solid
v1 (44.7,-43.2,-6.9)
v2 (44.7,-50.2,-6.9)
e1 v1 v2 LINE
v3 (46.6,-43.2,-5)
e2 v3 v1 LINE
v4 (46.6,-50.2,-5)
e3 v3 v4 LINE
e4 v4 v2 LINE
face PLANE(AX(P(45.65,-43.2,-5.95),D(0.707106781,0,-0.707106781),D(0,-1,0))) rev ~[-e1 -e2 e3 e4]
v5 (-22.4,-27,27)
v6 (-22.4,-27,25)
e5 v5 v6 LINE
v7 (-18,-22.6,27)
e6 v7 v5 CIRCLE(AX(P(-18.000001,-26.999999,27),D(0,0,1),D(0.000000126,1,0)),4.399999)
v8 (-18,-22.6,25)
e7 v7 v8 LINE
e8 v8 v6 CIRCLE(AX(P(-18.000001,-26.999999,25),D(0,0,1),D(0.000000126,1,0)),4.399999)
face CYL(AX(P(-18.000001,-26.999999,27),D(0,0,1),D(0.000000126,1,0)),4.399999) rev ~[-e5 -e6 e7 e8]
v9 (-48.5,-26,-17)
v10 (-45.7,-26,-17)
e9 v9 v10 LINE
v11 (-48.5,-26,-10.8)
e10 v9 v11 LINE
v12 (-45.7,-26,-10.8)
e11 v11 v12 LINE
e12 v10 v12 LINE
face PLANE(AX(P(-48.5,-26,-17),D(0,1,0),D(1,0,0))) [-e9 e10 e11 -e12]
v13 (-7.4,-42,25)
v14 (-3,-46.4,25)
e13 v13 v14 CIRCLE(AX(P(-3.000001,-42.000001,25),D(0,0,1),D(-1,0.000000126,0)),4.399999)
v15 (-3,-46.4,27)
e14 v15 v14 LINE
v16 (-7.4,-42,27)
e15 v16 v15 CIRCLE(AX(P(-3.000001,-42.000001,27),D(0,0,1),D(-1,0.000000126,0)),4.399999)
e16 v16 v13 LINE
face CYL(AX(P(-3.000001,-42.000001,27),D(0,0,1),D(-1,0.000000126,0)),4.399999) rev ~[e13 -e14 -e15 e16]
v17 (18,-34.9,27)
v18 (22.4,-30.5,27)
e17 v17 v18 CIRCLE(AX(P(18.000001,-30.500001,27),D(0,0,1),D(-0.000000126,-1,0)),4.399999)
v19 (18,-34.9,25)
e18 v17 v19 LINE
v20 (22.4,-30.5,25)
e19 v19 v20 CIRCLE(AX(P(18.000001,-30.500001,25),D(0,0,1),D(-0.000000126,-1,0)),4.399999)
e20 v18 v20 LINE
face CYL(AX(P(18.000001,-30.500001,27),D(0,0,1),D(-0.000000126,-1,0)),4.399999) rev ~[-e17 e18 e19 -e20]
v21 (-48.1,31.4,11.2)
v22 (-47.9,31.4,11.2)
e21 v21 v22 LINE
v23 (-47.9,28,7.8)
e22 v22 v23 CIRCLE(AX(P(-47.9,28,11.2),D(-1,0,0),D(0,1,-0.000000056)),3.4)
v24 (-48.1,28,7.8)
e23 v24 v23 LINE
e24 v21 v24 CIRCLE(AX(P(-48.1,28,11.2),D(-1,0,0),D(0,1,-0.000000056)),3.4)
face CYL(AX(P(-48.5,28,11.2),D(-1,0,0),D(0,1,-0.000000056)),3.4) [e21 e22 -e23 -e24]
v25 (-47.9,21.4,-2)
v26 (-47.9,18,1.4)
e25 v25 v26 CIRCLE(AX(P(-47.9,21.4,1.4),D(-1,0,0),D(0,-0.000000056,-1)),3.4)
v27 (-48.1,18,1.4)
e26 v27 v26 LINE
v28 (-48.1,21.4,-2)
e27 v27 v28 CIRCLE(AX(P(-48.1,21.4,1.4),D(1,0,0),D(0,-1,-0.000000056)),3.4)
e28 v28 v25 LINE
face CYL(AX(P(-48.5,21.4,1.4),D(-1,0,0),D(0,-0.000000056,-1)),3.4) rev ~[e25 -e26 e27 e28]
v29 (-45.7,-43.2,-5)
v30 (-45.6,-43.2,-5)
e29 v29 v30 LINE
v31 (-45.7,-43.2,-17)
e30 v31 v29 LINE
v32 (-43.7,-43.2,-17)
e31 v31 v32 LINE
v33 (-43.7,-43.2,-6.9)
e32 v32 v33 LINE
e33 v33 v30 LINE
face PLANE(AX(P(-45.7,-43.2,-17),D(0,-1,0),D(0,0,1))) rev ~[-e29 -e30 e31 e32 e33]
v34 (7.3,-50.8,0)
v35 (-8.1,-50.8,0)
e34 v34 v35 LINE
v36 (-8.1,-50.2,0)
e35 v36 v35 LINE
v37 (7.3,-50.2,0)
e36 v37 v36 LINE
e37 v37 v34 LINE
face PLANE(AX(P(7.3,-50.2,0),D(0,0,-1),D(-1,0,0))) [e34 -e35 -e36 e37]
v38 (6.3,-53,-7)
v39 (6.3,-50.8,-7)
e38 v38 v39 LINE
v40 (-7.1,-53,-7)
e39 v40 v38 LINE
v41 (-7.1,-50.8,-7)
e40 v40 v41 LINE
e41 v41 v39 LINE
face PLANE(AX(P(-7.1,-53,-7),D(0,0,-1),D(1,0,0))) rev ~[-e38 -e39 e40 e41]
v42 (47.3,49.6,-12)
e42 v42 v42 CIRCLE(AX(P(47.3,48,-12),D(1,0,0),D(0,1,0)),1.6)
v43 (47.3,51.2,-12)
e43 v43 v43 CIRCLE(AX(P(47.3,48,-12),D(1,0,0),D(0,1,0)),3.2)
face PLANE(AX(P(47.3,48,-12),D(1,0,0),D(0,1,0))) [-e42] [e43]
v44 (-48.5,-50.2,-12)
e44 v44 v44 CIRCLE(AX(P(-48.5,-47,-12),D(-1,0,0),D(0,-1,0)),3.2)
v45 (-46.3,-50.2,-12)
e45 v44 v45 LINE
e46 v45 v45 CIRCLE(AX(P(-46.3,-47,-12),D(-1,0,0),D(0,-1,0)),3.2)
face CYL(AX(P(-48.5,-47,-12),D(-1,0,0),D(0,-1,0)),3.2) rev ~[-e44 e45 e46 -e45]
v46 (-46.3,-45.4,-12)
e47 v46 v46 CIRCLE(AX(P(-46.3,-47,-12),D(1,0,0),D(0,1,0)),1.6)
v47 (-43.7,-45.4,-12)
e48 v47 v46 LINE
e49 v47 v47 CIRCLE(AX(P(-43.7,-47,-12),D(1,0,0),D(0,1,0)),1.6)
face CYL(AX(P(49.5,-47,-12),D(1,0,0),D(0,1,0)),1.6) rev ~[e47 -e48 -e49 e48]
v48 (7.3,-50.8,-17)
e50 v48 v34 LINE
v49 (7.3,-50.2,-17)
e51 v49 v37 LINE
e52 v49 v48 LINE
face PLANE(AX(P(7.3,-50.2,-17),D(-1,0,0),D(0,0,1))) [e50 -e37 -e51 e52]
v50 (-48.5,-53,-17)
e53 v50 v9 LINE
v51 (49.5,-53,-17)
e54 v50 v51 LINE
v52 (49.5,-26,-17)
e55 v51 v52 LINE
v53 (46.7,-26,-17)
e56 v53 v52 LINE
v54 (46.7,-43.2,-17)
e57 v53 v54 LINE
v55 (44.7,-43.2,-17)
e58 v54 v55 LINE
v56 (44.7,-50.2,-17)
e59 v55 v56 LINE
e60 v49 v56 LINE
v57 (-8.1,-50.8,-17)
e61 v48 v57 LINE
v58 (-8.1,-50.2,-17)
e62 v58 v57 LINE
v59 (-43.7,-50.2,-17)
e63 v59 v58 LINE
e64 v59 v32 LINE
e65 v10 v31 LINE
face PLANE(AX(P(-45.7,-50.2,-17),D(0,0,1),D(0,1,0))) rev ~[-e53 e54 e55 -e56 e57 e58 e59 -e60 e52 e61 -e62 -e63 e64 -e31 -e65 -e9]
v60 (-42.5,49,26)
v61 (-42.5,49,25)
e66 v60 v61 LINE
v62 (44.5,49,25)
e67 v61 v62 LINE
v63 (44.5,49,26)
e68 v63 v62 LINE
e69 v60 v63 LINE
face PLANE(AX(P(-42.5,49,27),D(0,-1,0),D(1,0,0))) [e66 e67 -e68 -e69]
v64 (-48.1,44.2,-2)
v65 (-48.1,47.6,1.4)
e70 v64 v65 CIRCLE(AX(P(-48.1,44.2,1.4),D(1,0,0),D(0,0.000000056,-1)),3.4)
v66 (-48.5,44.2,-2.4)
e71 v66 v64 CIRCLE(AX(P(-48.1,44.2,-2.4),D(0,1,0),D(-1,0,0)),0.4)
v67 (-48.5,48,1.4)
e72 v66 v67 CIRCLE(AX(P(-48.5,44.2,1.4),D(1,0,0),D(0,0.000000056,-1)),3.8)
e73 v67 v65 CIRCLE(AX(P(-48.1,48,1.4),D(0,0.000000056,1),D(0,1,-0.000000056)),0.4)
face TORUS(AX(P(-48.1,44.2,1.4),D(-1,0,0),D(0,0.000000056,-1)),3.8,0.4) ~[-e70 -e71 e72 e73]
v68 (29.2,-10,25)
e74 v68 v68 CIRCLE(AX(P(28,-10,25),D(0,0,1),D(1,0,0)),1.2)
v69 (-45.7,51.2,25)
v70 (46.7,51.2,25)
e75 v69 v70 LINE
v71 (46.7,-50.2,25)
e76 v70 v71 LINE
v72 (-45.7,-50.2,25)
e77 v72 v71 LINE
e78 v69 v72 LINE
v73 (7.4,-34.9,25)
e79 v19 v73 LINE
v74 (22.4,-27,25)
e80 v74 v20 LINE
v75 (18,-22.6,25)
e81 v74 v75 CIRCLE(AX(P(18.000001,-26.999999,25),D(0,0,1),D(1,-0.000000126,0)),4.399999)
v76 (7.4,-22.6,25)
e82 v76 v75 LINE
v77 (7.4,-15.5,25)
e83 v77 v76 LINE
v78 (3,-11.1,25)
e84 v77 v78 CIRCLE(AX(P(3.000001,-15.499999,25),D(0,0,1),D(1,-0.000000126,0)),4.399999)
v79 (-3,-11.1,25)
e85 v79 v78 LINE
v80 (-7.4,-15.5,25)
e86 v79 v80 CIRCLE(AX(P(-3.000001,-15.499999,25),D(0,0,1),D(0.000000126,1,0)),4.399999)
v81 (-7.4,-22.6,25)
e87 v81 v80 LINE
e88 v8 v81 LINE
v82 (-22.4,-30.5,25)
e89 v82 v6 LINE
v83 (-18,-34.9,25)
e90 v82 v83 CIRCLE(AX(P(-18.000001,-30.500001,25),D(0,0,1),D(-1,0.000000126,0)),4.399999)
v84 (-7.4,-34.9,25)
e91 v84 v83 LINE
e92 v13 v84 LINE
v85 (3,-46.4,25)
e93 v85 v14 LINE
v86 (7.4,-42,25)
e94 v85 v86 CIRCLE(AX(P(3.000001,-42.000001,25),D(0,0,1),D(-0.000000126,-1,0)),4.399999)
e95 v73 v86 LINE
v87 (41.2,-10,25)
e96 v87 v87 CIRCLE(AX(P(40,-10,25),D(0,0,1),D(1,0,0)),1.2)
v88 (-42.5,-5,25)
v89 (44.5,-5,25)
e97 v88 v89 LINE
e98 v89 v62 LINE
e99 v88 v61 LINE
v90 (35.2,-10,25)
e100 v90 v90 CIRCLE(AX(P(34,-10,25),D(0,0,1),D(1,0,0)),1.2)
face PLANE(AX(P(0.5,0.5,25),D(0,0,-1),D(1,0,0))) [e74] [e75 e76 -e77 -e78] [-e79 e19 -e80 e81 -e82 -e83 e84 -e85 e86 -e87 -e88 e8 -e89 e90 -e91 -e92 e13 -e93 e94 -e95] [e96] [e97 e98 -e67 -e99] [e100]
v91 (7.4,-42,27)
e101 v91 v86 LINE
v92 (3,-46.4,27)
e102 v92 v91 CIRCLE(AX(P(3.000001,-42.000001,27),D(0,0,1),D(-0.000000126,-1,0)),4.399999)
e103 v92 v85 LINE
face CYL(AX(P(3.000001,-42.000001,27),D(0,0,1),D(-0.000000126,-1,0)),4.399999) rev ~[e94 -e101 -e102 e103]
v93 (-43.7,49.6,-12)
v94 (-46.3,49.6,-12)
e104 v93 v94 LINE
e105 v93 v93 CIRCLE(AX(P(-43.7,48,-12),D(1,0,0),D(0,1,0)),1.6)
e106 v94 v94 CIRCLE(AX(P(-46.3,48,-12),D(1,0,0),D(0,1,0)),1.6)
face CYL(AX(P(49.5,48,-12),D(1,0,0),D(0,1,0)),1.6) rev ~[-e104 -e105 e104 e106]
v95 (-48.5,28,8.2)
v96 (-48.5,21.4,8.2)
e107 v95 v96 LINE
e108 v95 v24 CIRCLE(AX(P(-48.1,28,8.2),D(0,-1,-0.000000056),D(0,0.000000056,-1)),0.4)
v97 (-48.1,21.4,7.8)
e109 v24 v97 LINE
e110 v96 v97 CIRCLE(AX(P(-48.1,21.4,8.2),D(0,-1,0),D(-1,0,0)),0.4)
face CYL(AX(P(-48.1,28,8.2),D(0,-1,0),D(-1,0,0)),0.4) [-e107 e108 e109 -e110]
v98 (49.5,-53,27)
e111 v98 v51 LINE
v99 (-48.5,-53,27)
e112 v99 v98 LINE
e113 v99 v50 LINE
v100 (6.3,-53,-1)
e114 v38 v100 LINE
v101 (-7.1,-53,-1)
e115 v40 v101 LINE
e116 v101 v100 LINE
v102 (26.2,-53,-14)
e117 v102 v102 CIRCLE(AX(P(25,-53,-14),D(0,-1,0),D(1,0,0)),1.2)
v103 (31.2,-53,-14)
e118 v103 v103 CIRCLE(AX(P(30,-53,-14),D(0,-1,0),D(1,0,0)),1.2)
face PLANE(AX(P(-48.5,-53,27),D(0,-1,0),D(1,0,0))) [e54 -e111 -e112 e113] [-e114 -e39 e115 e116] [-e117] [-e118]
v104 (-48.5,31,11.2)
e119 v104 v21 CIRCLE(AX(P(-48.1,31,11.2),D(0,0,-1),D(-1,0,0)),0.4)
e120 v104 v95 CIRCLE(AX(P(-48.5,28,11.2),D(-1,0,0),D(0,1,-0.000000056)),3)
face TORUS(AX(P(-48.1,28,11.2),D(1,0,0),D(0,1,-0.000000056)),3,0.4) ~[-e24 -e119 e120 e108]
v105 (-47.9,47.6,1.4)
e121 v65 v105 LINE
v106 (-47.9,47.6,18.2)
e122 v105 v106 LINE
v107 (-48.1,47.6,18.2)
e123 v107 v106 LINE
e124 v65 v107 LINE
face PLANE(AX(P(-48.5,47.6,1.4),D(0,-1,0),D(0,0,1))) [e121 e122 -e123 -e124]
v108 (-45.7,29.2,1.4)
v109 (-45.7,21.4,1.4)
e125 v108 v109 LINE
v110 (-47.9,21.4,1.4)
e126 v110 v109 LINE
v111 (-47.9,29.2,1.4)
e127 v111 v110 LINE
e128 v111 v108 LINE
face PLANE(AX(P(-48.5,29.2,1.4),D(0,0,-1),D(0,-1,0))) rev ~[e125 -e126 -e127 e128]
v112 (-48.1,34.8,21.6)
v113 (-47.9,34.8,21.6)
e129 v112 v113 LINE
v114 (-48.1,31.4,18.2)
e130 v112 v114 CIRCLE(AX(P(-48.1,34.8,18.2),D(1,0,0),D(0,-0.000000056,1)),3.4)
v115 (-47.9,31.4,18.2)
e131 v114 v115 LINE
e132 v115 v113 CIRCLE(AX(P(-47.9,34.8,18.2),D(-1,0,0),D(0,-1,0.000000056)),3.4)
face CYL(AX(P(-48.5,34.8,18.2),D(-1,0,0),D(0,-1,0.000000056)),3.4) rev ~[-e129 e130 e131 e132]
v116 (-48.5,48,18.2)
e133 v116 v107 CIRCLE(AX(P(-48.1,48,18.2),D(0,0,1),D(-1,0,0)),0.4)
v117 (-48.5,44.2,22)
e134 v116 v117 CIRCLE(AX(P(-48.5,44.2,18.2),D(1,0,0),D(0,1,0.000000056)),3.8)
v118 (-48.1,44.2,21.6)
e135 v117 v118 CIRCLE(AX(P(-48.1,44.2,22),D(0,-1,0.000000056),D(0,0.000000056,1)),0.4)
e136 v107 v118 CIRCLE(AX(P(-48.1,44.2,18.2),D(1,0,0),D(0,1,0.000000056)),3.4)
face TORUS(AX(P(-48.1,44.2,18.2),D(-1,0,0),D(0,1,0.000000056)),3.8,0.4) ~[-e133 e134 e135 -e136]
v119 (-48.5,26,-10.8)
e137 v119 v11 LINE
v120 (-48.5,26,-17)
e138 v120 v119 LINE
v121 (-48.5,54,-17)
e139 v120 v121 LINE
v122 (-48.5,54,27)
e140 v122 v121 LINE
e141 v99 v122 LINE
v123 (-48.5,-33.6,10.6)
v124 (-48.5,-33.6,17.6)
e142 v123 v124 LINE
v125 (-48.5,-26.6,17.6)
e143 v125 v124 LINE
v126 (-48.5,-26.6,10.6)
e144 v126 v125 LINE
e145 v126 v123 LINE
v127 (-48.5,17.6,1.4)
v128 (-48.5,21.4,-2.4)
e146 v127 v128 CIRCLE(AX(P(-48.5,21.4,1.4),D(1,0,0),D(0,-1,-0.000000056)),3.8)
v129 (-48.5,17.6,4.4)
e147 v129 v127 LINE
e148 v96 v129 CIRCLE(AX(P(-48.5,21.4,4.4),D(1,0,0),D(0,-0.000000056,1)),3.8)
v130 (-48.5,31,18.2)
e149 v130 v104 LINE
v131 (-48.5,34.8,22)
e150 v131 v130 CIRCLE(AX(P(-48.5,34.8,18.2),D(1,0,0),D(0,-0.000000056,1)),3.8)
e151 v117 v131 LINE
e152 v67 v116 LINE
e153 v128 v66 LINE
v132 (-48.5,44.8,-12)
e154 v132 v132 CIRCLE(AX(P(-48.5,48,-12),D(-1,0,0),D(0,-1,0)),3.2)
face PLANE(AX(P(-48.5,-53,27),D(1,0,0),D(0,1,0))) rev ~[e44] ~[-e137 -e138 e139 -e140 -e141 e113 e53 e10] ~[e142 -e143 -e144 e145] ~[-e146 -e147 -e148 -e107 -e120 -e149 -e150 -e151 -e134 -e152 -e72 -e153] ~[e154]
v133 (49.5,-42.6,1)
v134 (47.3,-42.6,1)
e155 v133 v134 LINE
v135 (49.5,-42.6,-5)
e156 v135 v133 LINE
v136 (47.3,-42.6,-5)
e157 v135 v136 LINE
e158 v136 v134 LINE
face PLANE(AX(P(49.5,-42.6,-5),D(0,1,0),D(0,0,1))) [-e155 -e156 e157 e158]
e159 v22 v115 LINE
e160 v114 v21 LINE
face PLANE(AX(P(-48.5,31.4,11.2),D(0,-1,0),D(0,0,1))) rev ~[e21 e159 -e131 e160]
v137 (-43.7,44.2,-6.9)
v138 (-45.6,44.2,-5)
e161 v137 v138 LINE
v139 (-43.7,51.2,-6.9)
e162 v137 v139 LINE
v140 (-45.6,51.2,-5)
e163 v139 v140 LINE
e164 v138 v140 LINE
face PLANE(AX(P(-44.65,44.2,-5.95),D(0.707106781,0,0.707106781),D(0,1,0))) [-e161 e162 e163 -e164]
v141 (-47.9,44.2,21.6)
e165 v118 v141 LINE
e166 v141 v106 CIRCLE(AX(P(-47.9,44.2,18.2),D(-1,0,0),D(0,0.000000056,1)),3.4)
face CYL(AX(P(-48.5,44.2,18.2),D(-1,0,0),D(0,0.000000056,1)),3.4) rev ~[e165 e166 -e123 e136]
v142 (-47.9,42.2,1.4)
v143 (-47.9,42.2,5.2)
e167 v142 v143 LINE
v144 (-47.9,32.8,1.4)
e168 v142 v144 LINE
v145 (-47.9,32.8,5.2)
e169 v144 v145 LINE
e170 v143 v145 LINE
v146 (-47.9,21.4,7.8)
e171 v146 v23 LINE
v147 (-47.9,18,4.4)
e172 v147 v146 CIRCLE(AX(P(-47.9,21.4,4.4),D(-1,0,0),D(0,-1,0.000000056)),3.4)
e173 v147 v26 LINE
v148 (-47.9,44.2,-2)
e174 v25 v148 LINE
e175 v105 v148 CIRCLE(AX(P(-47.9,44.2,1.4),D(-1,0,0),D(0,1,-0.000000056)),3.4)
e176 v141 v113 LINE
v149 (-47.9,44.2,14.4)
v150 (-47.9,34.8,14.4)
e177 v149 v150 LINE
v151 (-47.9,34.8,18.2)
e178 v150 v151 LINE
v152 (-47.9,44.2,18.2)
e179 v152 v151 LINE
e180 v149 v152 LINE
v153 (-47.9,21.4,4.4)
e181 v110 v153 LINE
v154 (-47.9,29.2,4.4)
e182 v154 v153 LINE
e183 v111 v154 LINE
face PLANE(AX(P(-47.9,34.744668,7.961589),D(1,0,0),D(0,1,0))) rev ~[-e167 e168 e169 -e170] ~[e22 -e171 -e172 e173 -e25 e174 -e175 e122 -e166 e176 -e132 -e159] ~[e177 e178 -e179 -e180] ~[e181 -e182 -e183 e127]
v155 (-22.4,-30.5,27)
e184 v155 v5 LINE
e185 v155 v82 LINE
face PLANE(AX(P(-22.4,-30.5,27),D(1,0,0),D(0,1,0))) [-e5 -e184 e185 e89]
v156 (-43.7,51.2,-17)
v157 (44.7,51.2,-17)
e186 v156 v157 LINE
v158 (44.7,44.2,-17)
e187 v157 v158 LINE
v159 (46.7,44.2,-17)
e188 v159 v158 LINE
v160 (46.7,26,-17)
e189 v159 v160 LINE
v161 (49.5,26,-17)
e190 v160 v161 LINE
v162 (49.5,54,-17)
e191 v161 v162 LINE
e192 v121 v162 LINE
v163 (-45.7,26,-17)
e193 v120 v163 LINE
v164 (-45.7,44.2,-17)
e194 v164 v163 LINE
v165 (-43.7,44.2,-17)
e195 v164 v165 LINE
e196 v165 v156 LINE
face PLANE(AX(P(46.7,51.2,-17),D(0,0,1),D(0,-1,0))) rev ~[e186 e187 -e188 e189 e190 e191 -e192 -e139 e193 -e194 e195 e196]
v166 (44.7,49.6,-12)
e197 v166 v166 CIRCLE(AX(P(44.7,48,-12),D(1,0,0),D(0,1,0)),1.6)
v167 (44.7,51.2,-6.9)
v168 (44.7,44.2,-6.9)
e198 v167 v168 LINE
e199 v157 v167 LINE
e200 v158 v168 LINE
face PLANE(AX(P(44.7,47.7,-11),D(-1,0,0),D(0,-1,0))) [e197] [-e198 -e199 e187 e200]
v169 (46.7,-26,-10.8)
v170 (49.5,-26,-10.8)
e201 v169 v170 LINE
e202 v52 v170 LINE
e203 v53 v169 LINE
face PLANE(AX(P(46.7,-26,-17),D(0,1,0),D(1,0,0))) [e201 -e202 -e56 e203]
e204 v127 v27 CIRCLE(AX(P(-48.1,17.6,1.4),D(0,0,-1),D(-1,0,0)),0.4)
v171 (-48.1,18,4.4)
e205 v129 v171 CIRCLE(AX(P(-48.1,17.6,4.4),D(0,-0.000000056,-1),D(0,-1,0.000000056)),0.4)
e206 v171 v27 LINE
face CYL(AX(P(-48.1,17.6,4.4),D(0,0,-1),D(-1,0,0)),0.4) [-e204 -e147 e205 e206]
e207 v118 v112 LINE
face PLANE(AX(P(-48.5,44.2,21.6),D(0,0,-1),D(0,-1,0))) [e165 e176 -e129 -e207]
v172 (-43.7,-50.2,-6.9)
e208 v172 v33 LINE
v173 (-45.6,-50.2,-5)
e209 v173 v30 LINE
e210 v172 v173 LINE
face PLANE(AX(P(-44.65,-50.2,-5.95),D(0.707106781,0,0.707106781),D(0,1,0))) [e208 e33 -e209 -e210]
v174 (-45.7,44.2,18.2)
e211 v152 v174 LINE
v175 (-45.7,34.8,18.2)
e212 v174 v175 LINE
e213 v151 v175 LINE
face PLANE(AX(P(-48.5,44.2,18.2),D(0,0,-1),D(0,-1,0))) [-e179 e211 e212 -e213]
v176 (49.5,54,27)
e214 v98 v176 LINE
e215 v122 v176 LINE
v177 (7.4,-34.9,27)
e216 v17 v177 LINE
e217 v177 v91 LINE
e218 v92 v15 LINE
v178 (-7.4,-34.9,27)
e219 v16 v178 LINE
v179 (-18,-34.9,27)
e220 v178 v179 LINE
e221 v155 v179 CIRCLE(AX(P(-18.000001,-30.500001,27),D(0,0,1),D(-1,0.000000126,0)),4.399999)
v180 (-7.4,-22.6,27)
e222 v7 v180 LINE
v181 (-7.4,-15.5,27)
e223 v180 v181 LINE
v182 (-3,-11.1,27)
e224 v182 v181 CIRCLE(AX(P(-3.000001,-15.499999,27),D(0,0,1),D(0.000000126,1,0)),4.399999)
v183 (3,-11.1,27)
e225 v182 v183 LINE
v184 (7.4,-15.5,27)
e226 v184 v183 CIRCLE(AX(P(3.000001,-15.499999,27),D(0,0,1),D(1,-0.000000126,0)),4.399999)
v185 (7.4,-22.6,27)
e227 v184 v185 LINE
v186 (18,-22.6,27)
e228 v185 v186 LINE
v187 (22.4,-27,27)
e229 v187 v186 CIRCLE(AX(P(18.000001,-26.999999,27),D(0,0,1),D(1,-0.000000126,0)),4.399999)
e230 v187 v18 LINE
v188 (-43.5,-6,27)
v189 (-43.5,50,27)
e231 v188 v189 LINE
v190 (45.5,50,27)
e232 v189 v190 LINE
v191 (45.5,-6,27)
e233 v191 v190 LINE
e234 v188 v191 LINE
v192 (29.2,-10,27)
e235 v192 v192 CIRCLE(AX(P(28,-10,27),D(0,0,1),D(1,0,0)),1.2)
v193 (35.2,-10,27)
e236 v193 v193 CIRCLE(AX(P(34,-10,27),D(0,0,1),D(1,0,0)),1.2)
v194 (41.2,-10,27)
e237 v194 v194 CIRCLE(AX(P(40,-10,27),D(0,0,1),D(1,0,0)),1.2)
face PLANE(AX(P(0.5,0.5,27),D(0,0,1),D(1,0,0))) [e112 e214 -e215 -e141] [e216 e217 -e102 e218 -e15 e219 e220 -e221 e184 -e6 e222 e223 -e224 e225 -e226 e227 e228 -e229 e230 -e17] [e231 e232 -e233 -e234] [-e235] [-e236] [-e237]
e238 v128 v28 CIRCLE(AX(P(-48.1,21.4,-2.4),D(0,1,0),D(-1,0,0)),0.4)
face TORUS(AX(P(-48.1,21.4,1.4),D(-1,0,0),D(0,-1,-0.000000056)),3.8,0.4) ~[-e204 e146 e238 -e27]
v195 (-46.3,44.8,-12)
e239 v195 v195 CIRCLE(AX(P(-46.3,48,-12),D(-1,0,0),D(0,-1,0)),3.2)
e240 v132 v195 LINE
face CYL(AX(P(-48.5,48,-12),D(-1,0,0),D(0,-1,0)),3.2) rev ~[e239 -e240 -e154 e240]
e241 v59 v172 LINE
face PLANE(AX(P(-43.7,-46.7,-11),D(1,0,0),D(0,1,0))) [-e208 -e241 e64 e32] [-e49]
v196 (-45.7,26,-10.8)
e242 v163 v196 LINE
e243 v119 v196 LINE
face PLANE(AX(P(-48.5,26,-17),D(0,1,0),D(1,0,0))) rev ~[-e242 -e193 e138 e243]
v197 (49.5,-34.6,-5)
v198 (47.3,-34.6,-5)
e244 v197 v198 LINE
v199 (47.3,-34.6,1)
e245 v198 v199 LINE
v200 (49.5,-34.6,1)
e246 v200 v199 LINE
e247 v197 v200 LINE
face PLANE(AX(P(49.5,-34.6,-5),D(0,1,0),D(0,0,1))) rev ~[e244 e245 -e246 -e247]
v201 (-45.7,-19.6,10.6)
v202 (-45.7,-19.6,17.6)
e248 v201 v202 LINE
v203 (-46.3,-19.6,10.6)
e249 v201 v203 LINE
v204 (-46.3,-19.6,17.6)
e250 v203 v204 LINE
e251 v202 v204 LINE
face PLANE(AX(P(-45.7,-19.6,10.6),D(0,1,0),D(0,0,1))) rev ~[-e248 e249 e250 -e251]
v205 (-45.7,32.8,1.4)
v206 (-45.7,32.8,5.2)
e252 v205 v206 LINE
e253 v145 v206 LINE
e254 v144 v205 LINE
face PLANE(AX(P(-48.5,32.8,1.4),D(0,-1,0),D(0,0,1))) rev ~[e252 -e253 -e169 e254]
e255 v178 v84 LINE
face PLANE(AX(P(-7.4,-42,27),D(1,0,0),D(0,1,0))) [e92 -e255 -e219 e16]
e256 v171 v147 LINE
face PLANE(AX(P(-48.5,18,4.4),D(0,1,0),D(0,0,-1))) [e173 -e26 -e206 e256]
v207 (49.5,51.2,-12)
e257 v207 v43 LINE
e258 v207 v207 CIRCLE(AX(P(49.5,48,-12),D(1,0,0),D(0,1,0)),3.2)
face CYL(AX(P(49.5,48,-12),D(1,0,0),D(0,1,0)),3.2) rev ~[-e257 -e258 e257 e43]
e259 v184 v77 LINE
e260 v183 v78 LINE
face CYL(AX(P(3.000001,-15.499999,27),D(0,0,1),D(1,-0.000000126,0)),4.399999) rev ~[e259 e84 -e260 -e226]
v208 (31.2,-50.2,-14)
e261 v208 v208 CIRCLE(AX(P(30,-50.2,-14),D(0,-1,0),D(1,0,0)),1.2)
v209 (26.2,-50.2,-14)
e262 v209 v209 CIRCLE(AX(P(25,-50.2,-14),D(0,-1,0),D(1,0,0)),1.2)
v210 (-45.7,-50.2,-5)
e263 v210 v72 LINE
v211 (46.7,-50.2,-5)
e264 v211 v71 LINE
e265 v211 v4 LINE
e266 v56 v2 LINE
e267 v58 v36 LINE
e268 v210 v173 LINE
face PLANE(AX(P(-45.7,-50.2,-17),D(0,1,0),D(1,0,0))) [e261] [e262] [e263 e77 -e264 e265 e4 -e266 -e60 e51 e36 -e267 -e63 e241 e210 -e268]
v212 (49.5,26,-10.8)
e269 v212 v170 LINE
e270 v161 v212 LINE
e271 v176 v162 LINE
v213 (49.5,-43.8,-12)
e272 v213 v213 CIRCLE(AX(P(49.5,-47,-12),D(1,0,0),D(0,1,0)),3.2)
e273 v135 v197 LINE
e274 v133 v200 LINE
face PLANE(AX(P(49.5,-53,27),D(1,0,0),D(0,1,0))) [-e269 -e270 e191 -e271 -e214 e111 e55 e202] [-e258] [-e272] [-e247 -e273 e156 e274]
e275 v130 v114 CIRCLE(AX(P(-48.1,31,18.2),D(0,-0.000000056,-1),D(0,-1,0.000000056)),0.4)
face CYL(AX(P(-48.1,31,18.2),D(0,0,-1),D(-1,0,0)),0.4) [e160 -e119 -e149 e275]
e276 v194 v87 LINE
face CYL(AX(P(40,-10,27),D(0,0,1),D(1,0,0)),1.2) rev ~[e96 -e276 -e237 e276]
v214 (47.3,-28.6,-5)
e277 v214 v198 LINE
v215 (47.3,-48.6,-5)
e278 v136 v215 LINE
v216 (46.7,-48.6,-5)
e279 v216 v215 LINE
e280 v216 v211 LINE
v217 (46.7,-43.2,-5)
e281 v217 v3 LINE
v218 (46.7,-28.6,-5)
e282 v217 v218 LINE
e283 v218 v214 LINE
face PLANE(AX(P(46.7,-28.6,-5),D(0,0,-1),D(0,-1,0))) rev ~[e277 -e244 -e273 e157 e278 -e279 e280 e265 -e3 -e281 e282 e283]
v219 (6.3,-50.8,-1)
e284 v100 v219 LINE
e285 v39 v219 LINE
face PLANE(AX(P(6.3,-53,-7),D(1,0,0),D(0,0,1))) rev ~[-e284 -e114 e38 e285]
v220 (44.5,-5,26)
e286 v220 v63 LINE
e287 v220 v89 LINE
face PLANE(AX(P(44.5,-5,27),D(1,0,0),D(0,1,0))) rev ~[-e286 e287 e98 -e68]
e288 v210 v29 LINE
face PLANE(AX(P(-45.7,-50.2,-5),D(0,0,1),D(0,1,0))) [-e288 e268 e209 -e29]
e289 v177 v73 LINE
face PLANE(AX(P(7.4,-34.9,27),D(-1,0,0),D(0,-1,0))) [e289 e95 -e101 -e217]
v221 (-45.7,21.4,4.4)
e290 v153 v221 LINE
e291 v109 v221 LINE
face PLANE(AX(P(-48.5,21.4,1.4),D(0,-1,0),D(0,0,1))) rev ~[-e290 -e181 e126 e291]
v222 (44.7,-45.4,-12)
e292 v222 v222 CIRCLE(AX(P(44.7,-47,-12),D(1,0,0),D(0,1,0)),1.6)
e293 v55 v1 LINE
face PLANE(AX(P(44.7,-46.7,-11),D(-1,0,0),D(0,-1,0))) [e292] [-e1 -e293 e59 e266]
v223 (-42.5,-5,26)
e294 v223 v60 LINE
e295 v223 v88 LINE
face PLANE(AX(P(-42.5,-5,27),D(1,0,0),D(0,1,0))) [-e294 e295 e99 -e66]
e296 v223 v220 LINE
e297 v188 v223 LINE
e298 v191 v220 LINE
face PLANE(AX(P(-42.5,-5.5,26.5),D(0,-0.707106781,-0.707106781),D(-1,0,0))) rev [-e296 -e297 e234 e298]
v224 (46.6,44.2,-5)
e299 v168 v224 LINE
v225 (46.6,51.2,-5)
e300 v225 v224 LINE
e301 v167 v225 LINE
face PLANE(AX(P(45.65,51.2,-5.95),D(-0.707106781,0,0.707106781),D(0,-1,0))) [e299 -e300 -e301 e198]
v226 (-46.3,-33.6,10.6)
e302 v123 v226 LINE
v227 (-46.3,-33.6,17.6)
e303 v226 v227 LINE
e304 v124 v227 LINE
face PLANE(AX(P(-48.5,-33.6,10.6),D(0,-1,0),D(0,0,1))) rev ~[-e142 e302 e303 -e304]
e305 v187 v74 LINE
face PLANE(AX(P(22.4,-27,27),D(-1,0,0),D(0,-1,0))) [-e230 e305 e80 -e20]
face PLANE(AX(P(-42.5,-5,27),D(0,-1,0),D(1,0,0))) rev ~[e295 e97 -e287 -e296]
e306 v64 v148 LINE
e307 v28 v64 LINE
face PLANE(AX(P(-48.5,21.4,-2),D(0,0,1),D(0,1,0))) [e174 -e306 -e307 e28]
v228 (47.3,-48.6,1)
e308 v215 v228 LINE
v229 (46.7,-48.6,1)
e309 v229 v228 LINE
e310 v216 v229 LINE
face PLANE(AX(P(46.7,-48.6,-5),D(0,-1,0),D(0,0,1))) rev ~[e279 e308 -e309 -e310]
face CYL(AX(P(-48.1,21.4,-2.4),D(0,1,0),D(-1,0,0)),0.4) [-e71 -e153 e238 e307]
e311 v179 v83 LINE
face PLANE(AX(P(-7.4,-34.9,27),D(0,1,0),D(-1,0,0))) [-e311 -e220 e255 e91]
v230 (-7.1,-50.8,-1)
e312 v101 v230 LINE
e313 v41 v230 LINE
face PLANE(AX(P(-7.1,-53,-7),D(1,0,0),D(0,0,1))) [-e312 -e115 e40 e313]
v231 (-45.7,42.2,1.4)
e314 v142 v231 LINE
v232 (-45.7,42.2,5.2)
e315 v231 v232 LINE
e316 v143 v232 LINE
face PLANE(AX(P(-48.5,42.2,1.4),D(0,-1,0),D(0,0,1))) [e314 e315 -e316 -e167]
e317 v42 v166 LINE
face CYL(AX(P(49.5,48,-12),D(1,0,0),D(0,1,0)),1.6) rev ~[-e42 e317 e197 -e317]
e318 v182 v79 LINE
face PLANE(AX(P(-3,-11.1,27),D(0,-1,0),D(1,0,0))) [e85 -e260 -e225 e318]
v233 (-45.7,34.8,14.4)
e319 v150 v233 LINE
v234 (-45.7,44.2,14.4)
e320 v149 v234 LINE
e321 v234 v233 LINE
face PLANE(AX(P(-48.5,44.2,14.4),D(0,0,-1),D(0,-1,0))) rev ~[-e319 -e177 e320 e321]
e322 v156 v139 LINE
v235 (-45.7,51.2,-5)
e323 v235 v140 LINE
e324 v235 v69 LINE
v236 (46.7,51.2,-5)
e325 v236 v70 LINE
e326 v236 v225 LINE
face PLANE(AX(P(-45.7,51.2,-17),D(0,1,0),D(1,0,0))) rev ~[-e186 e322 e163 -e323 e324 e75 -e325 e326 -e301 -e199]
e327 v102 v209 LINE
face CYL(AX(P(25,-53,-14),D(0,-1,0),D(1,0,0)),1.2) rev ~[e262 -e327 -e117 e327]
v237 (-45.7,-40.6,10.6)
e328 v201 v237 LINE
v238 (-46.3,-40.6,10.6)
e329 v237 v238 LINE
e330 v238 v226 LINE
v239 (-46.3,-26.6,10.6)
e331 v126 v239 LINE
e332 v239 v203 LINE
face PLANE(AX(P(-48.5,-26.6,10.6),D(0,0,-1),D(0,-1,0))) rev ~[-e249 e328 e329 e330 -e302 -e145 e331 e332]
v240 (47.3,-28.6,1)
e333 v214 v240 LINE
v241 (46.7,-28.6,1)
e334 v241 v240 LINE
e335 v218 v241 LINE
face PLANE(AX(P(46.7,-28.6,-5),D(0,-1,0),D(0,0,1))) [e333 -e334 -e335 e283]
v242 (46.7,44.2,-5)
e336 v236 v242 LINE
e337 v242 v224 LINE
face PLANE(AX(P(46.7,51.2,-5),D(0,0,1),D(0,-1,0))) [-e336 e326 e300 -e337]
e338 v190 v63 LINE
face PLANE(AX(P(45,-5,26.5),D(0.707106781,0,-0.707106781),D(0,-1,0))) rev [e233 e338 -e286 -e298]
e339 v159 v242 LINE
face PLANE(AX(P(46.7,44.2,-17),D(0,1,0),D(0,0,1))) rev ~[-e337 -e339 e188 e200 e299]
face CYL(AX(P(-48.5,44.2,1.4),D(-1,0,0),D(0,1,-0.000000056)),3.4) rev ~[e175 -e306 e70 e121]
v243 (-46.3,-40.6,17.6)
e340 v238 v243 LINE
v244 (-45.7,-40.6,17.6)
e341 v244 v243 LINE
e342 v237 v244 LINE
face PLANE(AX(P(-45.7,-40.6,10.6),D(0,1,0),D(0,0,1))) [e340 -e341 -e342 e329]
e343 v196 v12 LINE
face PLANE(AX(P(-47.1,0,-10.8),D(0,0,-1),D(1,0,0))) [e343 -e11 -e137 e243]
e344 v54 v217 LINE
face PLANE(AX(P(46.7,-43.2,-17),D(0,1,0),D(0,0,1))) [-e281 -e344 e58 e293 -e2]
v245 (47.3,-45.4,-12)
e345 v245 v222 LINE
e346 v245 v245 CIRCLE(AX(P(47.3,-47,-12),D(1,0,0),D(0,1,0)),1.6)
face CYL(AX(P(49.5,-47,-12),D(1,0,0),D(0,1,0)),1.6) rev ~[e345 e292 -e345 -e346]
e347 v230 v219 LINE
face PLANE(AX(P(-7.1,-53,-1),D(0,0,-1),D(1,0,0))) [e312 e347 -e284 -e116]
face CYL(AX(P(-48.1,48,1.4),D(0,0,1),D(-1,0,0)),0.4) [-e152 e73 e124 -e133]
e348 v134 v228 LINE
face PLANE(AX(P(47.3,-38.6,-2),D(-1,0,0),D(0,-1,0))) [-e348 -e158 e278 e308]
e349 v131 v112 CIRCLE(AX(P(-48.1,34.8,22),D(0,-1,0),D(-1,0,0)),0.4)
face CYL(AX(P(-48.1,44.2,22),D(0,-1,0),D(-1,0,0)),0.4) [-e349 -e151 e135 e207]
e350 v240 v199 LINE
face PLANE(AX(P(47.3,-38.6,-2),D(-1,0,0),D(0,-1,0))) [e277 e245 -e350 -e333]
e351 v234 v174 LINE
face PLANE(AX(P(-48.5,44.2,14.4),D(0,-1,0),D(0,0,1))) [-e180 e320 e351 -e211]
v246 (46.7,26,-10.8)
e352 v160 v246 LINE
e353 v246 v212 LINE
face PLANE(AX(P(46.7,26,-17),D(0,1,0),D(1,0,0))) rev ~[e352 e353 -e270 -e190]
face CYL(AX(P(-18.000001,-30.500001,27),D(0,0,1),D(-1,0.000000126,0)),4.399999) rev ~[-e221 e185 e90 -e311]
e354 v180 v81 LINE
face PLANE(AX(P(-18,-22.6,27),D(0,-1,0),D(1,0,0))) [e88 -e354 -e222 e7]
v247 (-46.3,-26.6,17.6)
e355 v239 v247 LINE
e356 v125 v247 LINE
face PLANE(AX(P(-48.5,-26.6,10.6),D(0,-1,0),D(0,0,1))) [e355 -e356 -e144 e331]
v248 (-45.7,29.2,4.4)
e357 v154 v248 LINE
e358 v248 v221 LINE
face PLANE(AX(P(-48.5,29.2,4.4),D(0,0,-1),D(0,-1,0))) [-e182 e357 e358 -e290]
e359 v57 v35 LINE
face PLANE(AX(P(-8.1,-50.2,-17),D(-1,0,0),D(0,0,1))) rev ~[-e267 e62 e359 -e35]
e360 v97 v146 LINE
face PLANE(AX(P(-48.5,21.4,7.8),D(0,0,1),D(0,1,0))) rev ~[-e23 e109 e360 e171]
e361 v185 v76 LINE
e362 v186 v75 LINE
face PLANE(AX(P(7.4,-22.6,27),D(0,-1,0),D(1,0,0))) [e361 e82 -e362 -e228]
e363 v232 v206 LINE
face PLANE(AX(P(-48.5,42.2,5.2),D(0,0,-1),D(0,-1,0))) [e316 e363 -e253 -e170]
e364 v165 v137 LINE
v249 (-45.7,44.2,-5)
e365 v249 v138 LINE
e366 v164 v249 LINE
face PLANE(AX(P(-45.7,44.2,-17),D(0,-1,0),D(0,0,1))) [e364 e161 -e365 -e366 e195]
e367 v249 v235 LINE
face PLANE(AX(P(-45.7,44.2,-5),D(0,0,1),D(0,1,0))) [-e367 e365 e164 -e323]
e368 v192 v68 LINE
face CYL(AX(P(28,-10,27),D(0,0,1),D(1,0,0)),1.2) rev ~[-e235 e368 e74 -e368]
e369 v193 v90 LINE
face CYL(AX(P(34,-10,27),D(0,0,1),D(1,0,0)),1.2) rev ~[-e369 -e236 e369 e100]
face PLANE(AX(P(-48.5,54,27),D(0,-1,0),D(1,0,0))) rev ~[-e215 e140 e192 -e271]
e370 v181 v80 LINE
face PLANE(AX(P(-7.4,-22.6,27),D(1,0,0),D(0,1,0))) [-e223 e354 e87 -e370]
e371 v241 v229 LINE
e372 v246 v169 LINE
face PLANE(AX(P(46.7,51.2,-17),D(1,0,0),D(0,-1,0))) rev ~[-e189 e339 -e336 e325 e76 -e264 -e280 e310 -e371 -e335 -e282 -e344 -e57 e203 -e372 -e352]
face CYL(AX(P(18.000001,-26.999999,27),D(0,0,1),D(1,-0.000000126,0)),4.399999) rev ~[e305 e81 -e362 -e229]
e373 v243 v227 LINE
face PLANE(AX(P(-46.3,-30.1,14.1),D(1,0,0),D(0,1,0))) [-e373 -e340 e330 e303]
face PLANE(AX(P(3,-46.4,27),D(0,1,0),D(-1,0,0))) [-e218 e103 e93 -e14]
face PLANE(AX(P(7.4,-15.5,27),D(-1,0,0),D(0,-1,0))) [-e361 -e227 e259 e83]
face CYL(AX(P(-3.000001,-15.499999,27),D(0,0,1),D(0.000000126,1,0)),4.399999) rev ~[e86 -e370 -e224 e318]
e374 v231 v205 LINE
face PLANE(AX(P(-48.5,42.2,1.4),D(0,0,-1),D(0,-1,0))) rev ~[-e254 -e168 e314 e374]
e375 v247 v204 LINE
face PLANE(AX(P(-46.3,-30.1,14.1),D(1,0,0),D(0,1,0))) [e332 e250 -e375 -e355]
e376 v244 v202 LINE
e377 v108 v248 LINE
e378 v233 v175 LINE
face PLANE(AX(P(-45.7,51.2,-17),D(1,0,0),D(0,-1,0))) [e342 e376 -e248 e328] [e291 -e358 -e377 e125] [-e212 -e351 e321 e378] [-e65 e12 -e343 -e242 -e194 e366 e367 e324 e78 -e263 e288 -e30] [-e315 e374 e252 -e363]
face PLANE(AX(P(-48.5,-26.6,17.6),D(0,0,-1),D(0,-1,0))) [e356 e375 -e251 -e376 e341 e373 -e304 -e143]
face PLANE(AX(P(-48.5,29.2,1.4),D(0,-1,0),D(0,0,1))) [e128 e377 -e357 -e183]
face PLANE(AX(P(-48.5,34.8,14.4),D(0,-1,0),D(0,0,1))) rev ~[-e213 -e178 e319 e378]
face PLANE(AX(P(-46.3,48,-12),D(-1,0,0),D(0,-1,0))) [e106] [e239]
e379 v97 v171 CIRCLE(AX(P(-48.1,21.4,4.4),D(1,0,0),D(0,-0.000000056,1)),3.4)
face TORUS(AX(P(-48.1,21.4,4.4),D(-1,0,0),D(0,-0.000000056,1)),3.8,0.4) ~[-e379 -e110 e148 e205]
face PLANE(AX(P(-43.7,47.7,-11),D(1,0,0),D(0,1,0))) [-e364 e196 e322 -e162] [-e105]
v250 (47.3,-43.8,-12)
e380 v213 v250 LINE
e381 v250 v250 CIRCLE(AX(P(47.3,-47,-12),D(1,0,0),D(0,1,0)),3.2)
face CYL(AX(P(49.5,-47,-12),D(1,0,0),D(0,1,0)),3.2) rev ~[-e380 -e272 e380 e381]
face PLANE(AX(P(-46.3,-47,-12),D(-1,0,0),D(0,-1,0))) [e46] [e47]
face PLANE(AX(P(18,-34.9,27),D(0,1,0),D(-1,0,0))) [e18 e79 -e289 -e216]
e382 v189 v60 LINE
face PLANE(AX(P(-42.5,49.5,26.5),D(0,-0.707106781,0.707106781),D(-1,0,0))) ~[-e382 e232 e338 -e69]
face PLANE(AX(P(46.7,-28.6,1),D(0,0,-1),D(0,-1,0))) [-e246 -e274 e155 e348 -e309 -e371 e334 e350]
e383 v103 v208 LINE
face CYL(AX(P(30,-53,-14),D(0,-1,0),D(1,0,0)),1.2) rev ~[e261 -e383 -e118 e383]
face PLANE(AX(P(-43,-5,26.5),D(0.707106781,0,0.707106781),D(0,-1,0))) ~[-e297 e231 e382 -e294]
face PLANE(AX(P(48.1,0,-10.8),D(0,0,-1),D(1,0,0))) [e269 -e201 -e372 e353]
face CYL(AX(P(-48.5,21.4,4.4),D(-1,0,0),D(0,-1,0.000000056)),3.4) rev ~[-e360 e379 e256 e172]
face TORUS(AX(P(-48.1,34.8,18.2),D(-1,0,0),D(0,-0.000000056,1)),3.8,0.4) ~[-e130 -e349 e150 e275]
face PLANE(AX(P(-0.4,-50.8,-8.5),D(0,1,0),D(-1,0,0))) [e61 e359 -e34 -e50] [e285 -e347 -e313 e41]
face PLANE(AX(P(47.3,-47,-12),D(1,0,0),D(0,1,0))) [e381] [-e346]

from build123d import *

# Parameters (mm, degrees)
SKETCH023_W     = 98
SKETCH023_H     = 107
PAD018_DEPTH    = 44
SKETCH024_W     = 92.4
SKETCH024_H     = 101.4
POCKET003_DEPTH = 42
SKETCH025_W     = 2.8
SKETCH025_H     = 52
POCKET004_DEPTH = 6.2
SKETCH026_W     = 87
SKETCH026_H     = 54
POCKET005_DEPTH = 2
SKETCH027_W     = 7
SKETCH027_H     = 12
PAD019_DEPTH    = 2
SKETCH028_W     = 7
SKETCH028_H     = 12
PAD020_DEPTH    = 2
SKETCH029_R     = 1.6
POCKET006_DEPTH = 98.001
SKETCH030_R     = 3.2
POCKET007_DEPTH = 2.2
SKETCH031_R     = 3.2
POCKET008_DEPTH = 2.2
SKETCH032_W     = 9.4
SKETCH032_H     = 3.8
SKETCH032_W_2   = 7.8
SKETCH032_H_2   = 3
SKETCH032_W_3   = 7
SKETCH032_H_3   = 7
POCKET009_DEPTH = 2.8
SKETCH033_W     = 13.4
SKETCH033_H     = 6
POCKET010_DEPTH = 2.8
SKETCH040_R     = 1.2
POCKET011_DEPTH = 2
SKETCH043_W     = 8
SKETCH043_H     = 6
POCKET013_DEPTH = 5
SKETCH044_W     = 20
SKETCH044_H     = 6
POCKET014_DEPTH = 0.6
SKETCH045_W     = 21
SKETCH045_H     = 7
POCKET015_DEPTH = 0.6
CHAMFER_SIZE    = 1
SKETCH047_W     = 15.4
SKETCH047_H     = 17
POCKET016_DEPTH = 0.6
CHAMFER001_SIZE = 1.9
SKETCH057_R     = 1.2
POCKET021_DEPTH = 3
POCKET023_DEPTH = 0.6
FILLET_R        = 0.4


with BuildPart() as part:
    # Sketch023 → Pad018 (new body)
    with BuildSketch(Plane.XY.offset(27)):
        with Locations((0.5, 0.5)):
            Rectangle(SKETCH023_W, SKETCH023_H)
    extrude(amount=-PAD018_DEPTH)

    # Sketch024 (on Face6 of Pad018) → Pocket003 (cut)
    with BuildSketch(Plane(origin=(0, 0, -17), x_dir=(1, 0, 0), z_dir=(0, 0, -1))):
        with Locations((0.5, -0.5)):
            Rectangle(SKETCH024_W, SKETCH024_H)
    extrude(amount=-POCKET003_DEPTH, mode=Mode.SUBTRACT)

    # Sketch025 (on Face5 of Pocket003) → Pocket004 (cut)
    with BuildSketch(Plane(origin=(0, 0, -17), x_dir=(1, 0, 0), z_dir=(0, 0, -1))):
        with Locations((-47.1, 0)):
            Rectangle(SKETCH025_W, SKETCH025_H)
        with Locations((48.1, 0)):
            Rectangle(SKETCH025_W, SKETCH025_H)
    extrude(amount=-POCKET004_DEPTH, mode=Mode.SUBTRACT)

    # Sketch026 (on Face4 of Pocket004) → Pocket005 (cut)
    with BuildSketch(Plane.XY.offset(27)):
        with Locations((1, 22)):
            Rectangle(SKETCH026_W, SKETCH026_H)
    extrude(amount=-POCKET005_DEPTH, mode=Mode.SUBTRACT)

    # Sketch027 (on Face18 of Pocket005) → Pad019 (join)
    with BuildSketch(Plane.YZ.offset(-45.7)):
        with Locations((-46.7, -11)):
            Rectangle(SKETCH027_W, SKETCH027_H)
        with Locations((47.7, -11)):
            Rectangle(SKETCH027_W, SKETCH027_H)
    extrude(amount=PAD019_DEPTH)

    # Sketch028 (on Face21 of Pad019) → Pad020 (join)
    with BuildSketch(Plane(origin=(46.7, 0, 0), x_dir=(0, -1, 0), z_dir=(-1, 0, 0))):
        with Locations((-47.7, -11)):
            Rectangle(SKETCH028_W, SKETCH028_H)
        with Locations((46.7, -11)):
            Rectangle(SKETCH028_W, SKETCH028_H)
    extrude(amount=PAD020_DEPTH)

    # Sketch029 (on Face3 of Pad020) → Pocket006 (cut, through all)
    with BuildSketch(Plane.YZ.offset(49.5)):
        with Locations((-47, -12)):
            Circle(SKETCH029_R)
        with Locations((48, -12)):
            Circle(SKETCH029_R)
    extrude(amount=-POCKET006_DEPTH, mode=Mode.SUBTRACT)

    # Sketch030 (on Face3 of Pocket006) → Pocket007 (cut)
    with BuildSketch(Plane.YZ.offset(49.5)):
        with Locations((48, -12)):
            Circle(SKETCH030_R)
        with Locations((-47, -12)):
            Circle(SKETCH030_R)
    extrude(amount=-POCKET007_DEPTH, mode=Mode.SUBTRACT)

    # Sketch031 (on Face2 of Pocket007) → Pocket008 (cut)
    with BuildSketch(Plane(origin=(-48.5, 0, 0), x_dir=(0, -1, 0), z_dir=(-1, 0, 0))):
        with Locations((47, -12)):
            Circle(SKETCH031_R)
        with Locations((-48, -12)):
            Circle(SKETCH031_R)
    extrude(amount=-POCKET008_DEPTH, mode=Mode.SUBTRACT)

    # Sketch032 (on Face2 of Pocket008) → Pocket009 (cut)
    with BuildSketch(Plane(origin=(-48.5, 0, 0), x_dir=(0, -1, 0), z_dir=(-1, 0, 0))):
        with Locations((-39.5, 16.3)):
            Rectangle(SKETCH032_W, SKETCH032_H)
        with Locations((-37.5, 3.3)):
            Rectangle(SKETCH032_W, SKETCH032_H)
        with Locations((-25.3, 2.9)):
            Rectangle(SKETCH032_W_2, SKETCH032_H_2)
        with Locations((30.1, 14.1)):
            Rectangle(SKETCH032_W_3, SKETCH032_H_3)
    extrude(amount=-POCKET009_DEPTH, mode=Mode.SUBTRACT)

    # Sketch033 (on Face6 of Pocket009) → Pocket010 (cut)
    with BuildSketch(Plane.XZ.offset(53)):
        with Locations((-0.4, -4)):
            Rectangle(SKETCH033_W, SKETCH033_H)
    extrude(amount=-POCKET010_DEPTH, mode=Mode.SUBTRACT)

    # Sketch040 (on Face4 of Pocket010) → Pocket011 (cut)
    with BuildSketch(Plane.XY.offset(27)):
        with Locations((28, -10)):
            Circle(SKETCH040_R)
        with Locations((34, -10)):
            Circle(SKETCH040_R)
        with Locations((40, -10)):
            Circle(SKETCH040_R)
        with BuildLine():
            Line((-18, -22.6), (-7.4, -22.6))
            Line((-7.4, -22.6), (-7.4, -15.5))
            ThreePointArc((-3, -11.1), (-6.11127, -12.38873), (-7.4, -15.5))
            Line((-3, -11.1), (3, -11.1))
            ThreePointArc((7.4, -15.5), (6.11127, -12.38873), (3, -11.1))
            Line((7.4, -15.5), (7.4, -22.6))
            Line((7.4, -22.6), (18, -22.6))
            ThreePointArc((22.4, -27), (21.11127, -23.88873), (18, -22.6))
            Line((22.4, -27), (22.4, -30.5))
            ThreePointArc((18, -34.9), (21.11127, -33.61127), (22.4, -30.5))
            Line((18, -34.9), (7.4, -34.9))
            Line((7.4, -34.9), (7.4, -42))
            ThreePointArc((3, -46.4), (6.11127, -45.11127), (7.4, -42))
            Line((3, -46.4), (-3, -46.4))
            ThreePointArc((-7.4, -42), (-6.11127, -45.11127), (-3, -46.4))
            Line((-7.4, -42), (-7.4, -34.9))
            Line((-7.4, -34.9), (-18, -34.9))
            ThreePointArc((-22.4, -30.5), (-21.11127, -33.61127), (-18, -34.9))
            Line((-22.4, -30.5), (-22.4, -27))
            ThreePointArc((-18, -22.6), (-21.11127, -23.88873), (-22.4, -27))
        make_face()
    extrude(amount=-POCKET011_DEPTH, mode=Mode.SUBTRACT)

    # Sketch043 (on Face3 of Pocket011) → Pocket013 (cut)
    with BuildSketch(Plane.YZ.offset(49.5)):
        with Locations((-38.6, -2)):
            Rectangle(SKETCH043_W, SKETCH043_H)
    extrude(amount=-POCKET013_DEPTH, mode=Mode.SUBTRACT)

    # Sketch044 (on Face69 of Pocket013) → Pocket014 (cut)
    with BuildSketch(Plane(origin=(46.7, 0, 0), x_dir=(0, -1, 0), z_dir=(-1, 0, 0))):
        with Locations((38.6, -2)):
            Rectangle(SKETCH044_W, SKETCH044_H)
    extrude(amount=-POCKET014_DEPTH, mode=Mode.SUBTRACT)

    # Sketch045 (on Face66 of Pocket014) → Pocket015 (cut)
    with BuildSketch(Plane.YZ.offset(-45.7)):
        with Locations((-30.1, 14.1)):
            Rectangle(SKETCH045_W, SKETCH045_H)
    extrude(amount=-POCKET015_DEPTH, mode=Mode.SUBTRACT)

    # Chamfer
    chamfer_edges = [part.edges().sort_by_distance(p)[0] for p in [
        (-42.5, 22, 27),
        (1, 49, 27),
        (44.5, 22, 27),
        (1, -5, 27),
    ]]
    chamfer(chamfer_edges, length=CHAMFER_SIZE)

    # Sketch047 (on Face81 of Chamfer) → Pocket016 (cut)
    with BuildSketch(Plane(origin=(0, -50.2, 0), x_dir=(-1, 0, 0), z_dir=(0, 1, 0))):
        with Locations((0.4, -8.5)):
            Rectangle(SKETCH047_W, SKETCH047_H)
    extrude(amount=-POCKET016_DEPTH, mode=Mode.SUBTRACT)

    # Chamfer001
    chamfer001_edges = [part.edges().sort_by_distance(p)[0] for p in [
        (-43.7, -46.7, -5),
        (-43.7, 47.7, -5),
        (44.7, 47.7, -5),
        (44.7, -46.7, -5),
    ]]
    chamfer(chamfer001_edges, length=CHAMFER001_SIZE)

    # Sketch057 (on Face90 of Chamfer001) → Pocket021 (cut)
    with BuildSketch(Plane.XZ.offset(53)):
        with Locations((25, -14)):
            Circle(SKETCH057_R)
        with Locations((30, -14)):
            Circle(SKETCH057_R)
    extrude(amount=-POCKET021_DEPTH, mode=Mode.SUBTRACT)

    # Sketch059 (on Face15 of Pocket021) → Pocket023 (cut)
    with BuildSketch(Plane(origin=(-48.5, 0, 0), x_dir=(0, -1, 0), z_dir=(-1, 0, 0))):
        with BuildLine():
            Line((-44.2, 21.6), (-34.8, 21.6))
            ThreePointArc((-31.4, 18.2), (-32.395837, 20.604163), (-34.8, 21.6))
            Line((-31.4, 11.2), (-31.4, 18.2))
            ThreePointArc((-31.4, 11.2), (-30.404163, 8.795837), (-28, 7.8))
            Line((-21.4, 7.8), (-28, 7.8))
            ThreePointArc((-18, 4.4), (-18.995837, 6.804163), (-21.4, 7.8))
            Line((-18, 4.4), (-18, 1.4))
            ThreePointArc((-21.4, -2), (-18.995837, -1.004163), (-18, 1.4))
            Line((-21.4, -2), (-44.2, -2))
            ThreePointArc((-47.6, 1.4), (-46.604163, -1.004163), (-44.2, -2))
            Line((-47.6, 1.4), (-47.6, 18.2))
            ThreePointArc((-44.2, 21.6), (-46.604163, 20.604163), (-47.6, 18.2))
        make_face()
    extrude(amount=-POCKET023_DEPTH, mode=Mode.SUBTRACT)

    # Fillet
    fillet_edges = [part.edges().sort_by_distance(p)[0] for p in [
        (-48.5, 32.8, -2),
        (-48.5, 18.995837, -1.004163),
        (-48.5, 18, 2.9),
        (-48.5, 18.995837, 6.804163),
        (-48.5, 24.7, 7.8),
        (-48.5, 30.404163, 8.795837),
        (-48.5, 31.4, 14.7),
        (-48.5, 32.395837, 20.604163),
        (-48.5, 39.5, 21.6),
        (-48.5, 46.604163, 20.604163),
        (-48.5, 47.6, 9.8),
        (-48.5, 46.604163, -1.004163),
    ]]
    fillet(fillet_edges, radius=FILLET_R)


solid = part.part
